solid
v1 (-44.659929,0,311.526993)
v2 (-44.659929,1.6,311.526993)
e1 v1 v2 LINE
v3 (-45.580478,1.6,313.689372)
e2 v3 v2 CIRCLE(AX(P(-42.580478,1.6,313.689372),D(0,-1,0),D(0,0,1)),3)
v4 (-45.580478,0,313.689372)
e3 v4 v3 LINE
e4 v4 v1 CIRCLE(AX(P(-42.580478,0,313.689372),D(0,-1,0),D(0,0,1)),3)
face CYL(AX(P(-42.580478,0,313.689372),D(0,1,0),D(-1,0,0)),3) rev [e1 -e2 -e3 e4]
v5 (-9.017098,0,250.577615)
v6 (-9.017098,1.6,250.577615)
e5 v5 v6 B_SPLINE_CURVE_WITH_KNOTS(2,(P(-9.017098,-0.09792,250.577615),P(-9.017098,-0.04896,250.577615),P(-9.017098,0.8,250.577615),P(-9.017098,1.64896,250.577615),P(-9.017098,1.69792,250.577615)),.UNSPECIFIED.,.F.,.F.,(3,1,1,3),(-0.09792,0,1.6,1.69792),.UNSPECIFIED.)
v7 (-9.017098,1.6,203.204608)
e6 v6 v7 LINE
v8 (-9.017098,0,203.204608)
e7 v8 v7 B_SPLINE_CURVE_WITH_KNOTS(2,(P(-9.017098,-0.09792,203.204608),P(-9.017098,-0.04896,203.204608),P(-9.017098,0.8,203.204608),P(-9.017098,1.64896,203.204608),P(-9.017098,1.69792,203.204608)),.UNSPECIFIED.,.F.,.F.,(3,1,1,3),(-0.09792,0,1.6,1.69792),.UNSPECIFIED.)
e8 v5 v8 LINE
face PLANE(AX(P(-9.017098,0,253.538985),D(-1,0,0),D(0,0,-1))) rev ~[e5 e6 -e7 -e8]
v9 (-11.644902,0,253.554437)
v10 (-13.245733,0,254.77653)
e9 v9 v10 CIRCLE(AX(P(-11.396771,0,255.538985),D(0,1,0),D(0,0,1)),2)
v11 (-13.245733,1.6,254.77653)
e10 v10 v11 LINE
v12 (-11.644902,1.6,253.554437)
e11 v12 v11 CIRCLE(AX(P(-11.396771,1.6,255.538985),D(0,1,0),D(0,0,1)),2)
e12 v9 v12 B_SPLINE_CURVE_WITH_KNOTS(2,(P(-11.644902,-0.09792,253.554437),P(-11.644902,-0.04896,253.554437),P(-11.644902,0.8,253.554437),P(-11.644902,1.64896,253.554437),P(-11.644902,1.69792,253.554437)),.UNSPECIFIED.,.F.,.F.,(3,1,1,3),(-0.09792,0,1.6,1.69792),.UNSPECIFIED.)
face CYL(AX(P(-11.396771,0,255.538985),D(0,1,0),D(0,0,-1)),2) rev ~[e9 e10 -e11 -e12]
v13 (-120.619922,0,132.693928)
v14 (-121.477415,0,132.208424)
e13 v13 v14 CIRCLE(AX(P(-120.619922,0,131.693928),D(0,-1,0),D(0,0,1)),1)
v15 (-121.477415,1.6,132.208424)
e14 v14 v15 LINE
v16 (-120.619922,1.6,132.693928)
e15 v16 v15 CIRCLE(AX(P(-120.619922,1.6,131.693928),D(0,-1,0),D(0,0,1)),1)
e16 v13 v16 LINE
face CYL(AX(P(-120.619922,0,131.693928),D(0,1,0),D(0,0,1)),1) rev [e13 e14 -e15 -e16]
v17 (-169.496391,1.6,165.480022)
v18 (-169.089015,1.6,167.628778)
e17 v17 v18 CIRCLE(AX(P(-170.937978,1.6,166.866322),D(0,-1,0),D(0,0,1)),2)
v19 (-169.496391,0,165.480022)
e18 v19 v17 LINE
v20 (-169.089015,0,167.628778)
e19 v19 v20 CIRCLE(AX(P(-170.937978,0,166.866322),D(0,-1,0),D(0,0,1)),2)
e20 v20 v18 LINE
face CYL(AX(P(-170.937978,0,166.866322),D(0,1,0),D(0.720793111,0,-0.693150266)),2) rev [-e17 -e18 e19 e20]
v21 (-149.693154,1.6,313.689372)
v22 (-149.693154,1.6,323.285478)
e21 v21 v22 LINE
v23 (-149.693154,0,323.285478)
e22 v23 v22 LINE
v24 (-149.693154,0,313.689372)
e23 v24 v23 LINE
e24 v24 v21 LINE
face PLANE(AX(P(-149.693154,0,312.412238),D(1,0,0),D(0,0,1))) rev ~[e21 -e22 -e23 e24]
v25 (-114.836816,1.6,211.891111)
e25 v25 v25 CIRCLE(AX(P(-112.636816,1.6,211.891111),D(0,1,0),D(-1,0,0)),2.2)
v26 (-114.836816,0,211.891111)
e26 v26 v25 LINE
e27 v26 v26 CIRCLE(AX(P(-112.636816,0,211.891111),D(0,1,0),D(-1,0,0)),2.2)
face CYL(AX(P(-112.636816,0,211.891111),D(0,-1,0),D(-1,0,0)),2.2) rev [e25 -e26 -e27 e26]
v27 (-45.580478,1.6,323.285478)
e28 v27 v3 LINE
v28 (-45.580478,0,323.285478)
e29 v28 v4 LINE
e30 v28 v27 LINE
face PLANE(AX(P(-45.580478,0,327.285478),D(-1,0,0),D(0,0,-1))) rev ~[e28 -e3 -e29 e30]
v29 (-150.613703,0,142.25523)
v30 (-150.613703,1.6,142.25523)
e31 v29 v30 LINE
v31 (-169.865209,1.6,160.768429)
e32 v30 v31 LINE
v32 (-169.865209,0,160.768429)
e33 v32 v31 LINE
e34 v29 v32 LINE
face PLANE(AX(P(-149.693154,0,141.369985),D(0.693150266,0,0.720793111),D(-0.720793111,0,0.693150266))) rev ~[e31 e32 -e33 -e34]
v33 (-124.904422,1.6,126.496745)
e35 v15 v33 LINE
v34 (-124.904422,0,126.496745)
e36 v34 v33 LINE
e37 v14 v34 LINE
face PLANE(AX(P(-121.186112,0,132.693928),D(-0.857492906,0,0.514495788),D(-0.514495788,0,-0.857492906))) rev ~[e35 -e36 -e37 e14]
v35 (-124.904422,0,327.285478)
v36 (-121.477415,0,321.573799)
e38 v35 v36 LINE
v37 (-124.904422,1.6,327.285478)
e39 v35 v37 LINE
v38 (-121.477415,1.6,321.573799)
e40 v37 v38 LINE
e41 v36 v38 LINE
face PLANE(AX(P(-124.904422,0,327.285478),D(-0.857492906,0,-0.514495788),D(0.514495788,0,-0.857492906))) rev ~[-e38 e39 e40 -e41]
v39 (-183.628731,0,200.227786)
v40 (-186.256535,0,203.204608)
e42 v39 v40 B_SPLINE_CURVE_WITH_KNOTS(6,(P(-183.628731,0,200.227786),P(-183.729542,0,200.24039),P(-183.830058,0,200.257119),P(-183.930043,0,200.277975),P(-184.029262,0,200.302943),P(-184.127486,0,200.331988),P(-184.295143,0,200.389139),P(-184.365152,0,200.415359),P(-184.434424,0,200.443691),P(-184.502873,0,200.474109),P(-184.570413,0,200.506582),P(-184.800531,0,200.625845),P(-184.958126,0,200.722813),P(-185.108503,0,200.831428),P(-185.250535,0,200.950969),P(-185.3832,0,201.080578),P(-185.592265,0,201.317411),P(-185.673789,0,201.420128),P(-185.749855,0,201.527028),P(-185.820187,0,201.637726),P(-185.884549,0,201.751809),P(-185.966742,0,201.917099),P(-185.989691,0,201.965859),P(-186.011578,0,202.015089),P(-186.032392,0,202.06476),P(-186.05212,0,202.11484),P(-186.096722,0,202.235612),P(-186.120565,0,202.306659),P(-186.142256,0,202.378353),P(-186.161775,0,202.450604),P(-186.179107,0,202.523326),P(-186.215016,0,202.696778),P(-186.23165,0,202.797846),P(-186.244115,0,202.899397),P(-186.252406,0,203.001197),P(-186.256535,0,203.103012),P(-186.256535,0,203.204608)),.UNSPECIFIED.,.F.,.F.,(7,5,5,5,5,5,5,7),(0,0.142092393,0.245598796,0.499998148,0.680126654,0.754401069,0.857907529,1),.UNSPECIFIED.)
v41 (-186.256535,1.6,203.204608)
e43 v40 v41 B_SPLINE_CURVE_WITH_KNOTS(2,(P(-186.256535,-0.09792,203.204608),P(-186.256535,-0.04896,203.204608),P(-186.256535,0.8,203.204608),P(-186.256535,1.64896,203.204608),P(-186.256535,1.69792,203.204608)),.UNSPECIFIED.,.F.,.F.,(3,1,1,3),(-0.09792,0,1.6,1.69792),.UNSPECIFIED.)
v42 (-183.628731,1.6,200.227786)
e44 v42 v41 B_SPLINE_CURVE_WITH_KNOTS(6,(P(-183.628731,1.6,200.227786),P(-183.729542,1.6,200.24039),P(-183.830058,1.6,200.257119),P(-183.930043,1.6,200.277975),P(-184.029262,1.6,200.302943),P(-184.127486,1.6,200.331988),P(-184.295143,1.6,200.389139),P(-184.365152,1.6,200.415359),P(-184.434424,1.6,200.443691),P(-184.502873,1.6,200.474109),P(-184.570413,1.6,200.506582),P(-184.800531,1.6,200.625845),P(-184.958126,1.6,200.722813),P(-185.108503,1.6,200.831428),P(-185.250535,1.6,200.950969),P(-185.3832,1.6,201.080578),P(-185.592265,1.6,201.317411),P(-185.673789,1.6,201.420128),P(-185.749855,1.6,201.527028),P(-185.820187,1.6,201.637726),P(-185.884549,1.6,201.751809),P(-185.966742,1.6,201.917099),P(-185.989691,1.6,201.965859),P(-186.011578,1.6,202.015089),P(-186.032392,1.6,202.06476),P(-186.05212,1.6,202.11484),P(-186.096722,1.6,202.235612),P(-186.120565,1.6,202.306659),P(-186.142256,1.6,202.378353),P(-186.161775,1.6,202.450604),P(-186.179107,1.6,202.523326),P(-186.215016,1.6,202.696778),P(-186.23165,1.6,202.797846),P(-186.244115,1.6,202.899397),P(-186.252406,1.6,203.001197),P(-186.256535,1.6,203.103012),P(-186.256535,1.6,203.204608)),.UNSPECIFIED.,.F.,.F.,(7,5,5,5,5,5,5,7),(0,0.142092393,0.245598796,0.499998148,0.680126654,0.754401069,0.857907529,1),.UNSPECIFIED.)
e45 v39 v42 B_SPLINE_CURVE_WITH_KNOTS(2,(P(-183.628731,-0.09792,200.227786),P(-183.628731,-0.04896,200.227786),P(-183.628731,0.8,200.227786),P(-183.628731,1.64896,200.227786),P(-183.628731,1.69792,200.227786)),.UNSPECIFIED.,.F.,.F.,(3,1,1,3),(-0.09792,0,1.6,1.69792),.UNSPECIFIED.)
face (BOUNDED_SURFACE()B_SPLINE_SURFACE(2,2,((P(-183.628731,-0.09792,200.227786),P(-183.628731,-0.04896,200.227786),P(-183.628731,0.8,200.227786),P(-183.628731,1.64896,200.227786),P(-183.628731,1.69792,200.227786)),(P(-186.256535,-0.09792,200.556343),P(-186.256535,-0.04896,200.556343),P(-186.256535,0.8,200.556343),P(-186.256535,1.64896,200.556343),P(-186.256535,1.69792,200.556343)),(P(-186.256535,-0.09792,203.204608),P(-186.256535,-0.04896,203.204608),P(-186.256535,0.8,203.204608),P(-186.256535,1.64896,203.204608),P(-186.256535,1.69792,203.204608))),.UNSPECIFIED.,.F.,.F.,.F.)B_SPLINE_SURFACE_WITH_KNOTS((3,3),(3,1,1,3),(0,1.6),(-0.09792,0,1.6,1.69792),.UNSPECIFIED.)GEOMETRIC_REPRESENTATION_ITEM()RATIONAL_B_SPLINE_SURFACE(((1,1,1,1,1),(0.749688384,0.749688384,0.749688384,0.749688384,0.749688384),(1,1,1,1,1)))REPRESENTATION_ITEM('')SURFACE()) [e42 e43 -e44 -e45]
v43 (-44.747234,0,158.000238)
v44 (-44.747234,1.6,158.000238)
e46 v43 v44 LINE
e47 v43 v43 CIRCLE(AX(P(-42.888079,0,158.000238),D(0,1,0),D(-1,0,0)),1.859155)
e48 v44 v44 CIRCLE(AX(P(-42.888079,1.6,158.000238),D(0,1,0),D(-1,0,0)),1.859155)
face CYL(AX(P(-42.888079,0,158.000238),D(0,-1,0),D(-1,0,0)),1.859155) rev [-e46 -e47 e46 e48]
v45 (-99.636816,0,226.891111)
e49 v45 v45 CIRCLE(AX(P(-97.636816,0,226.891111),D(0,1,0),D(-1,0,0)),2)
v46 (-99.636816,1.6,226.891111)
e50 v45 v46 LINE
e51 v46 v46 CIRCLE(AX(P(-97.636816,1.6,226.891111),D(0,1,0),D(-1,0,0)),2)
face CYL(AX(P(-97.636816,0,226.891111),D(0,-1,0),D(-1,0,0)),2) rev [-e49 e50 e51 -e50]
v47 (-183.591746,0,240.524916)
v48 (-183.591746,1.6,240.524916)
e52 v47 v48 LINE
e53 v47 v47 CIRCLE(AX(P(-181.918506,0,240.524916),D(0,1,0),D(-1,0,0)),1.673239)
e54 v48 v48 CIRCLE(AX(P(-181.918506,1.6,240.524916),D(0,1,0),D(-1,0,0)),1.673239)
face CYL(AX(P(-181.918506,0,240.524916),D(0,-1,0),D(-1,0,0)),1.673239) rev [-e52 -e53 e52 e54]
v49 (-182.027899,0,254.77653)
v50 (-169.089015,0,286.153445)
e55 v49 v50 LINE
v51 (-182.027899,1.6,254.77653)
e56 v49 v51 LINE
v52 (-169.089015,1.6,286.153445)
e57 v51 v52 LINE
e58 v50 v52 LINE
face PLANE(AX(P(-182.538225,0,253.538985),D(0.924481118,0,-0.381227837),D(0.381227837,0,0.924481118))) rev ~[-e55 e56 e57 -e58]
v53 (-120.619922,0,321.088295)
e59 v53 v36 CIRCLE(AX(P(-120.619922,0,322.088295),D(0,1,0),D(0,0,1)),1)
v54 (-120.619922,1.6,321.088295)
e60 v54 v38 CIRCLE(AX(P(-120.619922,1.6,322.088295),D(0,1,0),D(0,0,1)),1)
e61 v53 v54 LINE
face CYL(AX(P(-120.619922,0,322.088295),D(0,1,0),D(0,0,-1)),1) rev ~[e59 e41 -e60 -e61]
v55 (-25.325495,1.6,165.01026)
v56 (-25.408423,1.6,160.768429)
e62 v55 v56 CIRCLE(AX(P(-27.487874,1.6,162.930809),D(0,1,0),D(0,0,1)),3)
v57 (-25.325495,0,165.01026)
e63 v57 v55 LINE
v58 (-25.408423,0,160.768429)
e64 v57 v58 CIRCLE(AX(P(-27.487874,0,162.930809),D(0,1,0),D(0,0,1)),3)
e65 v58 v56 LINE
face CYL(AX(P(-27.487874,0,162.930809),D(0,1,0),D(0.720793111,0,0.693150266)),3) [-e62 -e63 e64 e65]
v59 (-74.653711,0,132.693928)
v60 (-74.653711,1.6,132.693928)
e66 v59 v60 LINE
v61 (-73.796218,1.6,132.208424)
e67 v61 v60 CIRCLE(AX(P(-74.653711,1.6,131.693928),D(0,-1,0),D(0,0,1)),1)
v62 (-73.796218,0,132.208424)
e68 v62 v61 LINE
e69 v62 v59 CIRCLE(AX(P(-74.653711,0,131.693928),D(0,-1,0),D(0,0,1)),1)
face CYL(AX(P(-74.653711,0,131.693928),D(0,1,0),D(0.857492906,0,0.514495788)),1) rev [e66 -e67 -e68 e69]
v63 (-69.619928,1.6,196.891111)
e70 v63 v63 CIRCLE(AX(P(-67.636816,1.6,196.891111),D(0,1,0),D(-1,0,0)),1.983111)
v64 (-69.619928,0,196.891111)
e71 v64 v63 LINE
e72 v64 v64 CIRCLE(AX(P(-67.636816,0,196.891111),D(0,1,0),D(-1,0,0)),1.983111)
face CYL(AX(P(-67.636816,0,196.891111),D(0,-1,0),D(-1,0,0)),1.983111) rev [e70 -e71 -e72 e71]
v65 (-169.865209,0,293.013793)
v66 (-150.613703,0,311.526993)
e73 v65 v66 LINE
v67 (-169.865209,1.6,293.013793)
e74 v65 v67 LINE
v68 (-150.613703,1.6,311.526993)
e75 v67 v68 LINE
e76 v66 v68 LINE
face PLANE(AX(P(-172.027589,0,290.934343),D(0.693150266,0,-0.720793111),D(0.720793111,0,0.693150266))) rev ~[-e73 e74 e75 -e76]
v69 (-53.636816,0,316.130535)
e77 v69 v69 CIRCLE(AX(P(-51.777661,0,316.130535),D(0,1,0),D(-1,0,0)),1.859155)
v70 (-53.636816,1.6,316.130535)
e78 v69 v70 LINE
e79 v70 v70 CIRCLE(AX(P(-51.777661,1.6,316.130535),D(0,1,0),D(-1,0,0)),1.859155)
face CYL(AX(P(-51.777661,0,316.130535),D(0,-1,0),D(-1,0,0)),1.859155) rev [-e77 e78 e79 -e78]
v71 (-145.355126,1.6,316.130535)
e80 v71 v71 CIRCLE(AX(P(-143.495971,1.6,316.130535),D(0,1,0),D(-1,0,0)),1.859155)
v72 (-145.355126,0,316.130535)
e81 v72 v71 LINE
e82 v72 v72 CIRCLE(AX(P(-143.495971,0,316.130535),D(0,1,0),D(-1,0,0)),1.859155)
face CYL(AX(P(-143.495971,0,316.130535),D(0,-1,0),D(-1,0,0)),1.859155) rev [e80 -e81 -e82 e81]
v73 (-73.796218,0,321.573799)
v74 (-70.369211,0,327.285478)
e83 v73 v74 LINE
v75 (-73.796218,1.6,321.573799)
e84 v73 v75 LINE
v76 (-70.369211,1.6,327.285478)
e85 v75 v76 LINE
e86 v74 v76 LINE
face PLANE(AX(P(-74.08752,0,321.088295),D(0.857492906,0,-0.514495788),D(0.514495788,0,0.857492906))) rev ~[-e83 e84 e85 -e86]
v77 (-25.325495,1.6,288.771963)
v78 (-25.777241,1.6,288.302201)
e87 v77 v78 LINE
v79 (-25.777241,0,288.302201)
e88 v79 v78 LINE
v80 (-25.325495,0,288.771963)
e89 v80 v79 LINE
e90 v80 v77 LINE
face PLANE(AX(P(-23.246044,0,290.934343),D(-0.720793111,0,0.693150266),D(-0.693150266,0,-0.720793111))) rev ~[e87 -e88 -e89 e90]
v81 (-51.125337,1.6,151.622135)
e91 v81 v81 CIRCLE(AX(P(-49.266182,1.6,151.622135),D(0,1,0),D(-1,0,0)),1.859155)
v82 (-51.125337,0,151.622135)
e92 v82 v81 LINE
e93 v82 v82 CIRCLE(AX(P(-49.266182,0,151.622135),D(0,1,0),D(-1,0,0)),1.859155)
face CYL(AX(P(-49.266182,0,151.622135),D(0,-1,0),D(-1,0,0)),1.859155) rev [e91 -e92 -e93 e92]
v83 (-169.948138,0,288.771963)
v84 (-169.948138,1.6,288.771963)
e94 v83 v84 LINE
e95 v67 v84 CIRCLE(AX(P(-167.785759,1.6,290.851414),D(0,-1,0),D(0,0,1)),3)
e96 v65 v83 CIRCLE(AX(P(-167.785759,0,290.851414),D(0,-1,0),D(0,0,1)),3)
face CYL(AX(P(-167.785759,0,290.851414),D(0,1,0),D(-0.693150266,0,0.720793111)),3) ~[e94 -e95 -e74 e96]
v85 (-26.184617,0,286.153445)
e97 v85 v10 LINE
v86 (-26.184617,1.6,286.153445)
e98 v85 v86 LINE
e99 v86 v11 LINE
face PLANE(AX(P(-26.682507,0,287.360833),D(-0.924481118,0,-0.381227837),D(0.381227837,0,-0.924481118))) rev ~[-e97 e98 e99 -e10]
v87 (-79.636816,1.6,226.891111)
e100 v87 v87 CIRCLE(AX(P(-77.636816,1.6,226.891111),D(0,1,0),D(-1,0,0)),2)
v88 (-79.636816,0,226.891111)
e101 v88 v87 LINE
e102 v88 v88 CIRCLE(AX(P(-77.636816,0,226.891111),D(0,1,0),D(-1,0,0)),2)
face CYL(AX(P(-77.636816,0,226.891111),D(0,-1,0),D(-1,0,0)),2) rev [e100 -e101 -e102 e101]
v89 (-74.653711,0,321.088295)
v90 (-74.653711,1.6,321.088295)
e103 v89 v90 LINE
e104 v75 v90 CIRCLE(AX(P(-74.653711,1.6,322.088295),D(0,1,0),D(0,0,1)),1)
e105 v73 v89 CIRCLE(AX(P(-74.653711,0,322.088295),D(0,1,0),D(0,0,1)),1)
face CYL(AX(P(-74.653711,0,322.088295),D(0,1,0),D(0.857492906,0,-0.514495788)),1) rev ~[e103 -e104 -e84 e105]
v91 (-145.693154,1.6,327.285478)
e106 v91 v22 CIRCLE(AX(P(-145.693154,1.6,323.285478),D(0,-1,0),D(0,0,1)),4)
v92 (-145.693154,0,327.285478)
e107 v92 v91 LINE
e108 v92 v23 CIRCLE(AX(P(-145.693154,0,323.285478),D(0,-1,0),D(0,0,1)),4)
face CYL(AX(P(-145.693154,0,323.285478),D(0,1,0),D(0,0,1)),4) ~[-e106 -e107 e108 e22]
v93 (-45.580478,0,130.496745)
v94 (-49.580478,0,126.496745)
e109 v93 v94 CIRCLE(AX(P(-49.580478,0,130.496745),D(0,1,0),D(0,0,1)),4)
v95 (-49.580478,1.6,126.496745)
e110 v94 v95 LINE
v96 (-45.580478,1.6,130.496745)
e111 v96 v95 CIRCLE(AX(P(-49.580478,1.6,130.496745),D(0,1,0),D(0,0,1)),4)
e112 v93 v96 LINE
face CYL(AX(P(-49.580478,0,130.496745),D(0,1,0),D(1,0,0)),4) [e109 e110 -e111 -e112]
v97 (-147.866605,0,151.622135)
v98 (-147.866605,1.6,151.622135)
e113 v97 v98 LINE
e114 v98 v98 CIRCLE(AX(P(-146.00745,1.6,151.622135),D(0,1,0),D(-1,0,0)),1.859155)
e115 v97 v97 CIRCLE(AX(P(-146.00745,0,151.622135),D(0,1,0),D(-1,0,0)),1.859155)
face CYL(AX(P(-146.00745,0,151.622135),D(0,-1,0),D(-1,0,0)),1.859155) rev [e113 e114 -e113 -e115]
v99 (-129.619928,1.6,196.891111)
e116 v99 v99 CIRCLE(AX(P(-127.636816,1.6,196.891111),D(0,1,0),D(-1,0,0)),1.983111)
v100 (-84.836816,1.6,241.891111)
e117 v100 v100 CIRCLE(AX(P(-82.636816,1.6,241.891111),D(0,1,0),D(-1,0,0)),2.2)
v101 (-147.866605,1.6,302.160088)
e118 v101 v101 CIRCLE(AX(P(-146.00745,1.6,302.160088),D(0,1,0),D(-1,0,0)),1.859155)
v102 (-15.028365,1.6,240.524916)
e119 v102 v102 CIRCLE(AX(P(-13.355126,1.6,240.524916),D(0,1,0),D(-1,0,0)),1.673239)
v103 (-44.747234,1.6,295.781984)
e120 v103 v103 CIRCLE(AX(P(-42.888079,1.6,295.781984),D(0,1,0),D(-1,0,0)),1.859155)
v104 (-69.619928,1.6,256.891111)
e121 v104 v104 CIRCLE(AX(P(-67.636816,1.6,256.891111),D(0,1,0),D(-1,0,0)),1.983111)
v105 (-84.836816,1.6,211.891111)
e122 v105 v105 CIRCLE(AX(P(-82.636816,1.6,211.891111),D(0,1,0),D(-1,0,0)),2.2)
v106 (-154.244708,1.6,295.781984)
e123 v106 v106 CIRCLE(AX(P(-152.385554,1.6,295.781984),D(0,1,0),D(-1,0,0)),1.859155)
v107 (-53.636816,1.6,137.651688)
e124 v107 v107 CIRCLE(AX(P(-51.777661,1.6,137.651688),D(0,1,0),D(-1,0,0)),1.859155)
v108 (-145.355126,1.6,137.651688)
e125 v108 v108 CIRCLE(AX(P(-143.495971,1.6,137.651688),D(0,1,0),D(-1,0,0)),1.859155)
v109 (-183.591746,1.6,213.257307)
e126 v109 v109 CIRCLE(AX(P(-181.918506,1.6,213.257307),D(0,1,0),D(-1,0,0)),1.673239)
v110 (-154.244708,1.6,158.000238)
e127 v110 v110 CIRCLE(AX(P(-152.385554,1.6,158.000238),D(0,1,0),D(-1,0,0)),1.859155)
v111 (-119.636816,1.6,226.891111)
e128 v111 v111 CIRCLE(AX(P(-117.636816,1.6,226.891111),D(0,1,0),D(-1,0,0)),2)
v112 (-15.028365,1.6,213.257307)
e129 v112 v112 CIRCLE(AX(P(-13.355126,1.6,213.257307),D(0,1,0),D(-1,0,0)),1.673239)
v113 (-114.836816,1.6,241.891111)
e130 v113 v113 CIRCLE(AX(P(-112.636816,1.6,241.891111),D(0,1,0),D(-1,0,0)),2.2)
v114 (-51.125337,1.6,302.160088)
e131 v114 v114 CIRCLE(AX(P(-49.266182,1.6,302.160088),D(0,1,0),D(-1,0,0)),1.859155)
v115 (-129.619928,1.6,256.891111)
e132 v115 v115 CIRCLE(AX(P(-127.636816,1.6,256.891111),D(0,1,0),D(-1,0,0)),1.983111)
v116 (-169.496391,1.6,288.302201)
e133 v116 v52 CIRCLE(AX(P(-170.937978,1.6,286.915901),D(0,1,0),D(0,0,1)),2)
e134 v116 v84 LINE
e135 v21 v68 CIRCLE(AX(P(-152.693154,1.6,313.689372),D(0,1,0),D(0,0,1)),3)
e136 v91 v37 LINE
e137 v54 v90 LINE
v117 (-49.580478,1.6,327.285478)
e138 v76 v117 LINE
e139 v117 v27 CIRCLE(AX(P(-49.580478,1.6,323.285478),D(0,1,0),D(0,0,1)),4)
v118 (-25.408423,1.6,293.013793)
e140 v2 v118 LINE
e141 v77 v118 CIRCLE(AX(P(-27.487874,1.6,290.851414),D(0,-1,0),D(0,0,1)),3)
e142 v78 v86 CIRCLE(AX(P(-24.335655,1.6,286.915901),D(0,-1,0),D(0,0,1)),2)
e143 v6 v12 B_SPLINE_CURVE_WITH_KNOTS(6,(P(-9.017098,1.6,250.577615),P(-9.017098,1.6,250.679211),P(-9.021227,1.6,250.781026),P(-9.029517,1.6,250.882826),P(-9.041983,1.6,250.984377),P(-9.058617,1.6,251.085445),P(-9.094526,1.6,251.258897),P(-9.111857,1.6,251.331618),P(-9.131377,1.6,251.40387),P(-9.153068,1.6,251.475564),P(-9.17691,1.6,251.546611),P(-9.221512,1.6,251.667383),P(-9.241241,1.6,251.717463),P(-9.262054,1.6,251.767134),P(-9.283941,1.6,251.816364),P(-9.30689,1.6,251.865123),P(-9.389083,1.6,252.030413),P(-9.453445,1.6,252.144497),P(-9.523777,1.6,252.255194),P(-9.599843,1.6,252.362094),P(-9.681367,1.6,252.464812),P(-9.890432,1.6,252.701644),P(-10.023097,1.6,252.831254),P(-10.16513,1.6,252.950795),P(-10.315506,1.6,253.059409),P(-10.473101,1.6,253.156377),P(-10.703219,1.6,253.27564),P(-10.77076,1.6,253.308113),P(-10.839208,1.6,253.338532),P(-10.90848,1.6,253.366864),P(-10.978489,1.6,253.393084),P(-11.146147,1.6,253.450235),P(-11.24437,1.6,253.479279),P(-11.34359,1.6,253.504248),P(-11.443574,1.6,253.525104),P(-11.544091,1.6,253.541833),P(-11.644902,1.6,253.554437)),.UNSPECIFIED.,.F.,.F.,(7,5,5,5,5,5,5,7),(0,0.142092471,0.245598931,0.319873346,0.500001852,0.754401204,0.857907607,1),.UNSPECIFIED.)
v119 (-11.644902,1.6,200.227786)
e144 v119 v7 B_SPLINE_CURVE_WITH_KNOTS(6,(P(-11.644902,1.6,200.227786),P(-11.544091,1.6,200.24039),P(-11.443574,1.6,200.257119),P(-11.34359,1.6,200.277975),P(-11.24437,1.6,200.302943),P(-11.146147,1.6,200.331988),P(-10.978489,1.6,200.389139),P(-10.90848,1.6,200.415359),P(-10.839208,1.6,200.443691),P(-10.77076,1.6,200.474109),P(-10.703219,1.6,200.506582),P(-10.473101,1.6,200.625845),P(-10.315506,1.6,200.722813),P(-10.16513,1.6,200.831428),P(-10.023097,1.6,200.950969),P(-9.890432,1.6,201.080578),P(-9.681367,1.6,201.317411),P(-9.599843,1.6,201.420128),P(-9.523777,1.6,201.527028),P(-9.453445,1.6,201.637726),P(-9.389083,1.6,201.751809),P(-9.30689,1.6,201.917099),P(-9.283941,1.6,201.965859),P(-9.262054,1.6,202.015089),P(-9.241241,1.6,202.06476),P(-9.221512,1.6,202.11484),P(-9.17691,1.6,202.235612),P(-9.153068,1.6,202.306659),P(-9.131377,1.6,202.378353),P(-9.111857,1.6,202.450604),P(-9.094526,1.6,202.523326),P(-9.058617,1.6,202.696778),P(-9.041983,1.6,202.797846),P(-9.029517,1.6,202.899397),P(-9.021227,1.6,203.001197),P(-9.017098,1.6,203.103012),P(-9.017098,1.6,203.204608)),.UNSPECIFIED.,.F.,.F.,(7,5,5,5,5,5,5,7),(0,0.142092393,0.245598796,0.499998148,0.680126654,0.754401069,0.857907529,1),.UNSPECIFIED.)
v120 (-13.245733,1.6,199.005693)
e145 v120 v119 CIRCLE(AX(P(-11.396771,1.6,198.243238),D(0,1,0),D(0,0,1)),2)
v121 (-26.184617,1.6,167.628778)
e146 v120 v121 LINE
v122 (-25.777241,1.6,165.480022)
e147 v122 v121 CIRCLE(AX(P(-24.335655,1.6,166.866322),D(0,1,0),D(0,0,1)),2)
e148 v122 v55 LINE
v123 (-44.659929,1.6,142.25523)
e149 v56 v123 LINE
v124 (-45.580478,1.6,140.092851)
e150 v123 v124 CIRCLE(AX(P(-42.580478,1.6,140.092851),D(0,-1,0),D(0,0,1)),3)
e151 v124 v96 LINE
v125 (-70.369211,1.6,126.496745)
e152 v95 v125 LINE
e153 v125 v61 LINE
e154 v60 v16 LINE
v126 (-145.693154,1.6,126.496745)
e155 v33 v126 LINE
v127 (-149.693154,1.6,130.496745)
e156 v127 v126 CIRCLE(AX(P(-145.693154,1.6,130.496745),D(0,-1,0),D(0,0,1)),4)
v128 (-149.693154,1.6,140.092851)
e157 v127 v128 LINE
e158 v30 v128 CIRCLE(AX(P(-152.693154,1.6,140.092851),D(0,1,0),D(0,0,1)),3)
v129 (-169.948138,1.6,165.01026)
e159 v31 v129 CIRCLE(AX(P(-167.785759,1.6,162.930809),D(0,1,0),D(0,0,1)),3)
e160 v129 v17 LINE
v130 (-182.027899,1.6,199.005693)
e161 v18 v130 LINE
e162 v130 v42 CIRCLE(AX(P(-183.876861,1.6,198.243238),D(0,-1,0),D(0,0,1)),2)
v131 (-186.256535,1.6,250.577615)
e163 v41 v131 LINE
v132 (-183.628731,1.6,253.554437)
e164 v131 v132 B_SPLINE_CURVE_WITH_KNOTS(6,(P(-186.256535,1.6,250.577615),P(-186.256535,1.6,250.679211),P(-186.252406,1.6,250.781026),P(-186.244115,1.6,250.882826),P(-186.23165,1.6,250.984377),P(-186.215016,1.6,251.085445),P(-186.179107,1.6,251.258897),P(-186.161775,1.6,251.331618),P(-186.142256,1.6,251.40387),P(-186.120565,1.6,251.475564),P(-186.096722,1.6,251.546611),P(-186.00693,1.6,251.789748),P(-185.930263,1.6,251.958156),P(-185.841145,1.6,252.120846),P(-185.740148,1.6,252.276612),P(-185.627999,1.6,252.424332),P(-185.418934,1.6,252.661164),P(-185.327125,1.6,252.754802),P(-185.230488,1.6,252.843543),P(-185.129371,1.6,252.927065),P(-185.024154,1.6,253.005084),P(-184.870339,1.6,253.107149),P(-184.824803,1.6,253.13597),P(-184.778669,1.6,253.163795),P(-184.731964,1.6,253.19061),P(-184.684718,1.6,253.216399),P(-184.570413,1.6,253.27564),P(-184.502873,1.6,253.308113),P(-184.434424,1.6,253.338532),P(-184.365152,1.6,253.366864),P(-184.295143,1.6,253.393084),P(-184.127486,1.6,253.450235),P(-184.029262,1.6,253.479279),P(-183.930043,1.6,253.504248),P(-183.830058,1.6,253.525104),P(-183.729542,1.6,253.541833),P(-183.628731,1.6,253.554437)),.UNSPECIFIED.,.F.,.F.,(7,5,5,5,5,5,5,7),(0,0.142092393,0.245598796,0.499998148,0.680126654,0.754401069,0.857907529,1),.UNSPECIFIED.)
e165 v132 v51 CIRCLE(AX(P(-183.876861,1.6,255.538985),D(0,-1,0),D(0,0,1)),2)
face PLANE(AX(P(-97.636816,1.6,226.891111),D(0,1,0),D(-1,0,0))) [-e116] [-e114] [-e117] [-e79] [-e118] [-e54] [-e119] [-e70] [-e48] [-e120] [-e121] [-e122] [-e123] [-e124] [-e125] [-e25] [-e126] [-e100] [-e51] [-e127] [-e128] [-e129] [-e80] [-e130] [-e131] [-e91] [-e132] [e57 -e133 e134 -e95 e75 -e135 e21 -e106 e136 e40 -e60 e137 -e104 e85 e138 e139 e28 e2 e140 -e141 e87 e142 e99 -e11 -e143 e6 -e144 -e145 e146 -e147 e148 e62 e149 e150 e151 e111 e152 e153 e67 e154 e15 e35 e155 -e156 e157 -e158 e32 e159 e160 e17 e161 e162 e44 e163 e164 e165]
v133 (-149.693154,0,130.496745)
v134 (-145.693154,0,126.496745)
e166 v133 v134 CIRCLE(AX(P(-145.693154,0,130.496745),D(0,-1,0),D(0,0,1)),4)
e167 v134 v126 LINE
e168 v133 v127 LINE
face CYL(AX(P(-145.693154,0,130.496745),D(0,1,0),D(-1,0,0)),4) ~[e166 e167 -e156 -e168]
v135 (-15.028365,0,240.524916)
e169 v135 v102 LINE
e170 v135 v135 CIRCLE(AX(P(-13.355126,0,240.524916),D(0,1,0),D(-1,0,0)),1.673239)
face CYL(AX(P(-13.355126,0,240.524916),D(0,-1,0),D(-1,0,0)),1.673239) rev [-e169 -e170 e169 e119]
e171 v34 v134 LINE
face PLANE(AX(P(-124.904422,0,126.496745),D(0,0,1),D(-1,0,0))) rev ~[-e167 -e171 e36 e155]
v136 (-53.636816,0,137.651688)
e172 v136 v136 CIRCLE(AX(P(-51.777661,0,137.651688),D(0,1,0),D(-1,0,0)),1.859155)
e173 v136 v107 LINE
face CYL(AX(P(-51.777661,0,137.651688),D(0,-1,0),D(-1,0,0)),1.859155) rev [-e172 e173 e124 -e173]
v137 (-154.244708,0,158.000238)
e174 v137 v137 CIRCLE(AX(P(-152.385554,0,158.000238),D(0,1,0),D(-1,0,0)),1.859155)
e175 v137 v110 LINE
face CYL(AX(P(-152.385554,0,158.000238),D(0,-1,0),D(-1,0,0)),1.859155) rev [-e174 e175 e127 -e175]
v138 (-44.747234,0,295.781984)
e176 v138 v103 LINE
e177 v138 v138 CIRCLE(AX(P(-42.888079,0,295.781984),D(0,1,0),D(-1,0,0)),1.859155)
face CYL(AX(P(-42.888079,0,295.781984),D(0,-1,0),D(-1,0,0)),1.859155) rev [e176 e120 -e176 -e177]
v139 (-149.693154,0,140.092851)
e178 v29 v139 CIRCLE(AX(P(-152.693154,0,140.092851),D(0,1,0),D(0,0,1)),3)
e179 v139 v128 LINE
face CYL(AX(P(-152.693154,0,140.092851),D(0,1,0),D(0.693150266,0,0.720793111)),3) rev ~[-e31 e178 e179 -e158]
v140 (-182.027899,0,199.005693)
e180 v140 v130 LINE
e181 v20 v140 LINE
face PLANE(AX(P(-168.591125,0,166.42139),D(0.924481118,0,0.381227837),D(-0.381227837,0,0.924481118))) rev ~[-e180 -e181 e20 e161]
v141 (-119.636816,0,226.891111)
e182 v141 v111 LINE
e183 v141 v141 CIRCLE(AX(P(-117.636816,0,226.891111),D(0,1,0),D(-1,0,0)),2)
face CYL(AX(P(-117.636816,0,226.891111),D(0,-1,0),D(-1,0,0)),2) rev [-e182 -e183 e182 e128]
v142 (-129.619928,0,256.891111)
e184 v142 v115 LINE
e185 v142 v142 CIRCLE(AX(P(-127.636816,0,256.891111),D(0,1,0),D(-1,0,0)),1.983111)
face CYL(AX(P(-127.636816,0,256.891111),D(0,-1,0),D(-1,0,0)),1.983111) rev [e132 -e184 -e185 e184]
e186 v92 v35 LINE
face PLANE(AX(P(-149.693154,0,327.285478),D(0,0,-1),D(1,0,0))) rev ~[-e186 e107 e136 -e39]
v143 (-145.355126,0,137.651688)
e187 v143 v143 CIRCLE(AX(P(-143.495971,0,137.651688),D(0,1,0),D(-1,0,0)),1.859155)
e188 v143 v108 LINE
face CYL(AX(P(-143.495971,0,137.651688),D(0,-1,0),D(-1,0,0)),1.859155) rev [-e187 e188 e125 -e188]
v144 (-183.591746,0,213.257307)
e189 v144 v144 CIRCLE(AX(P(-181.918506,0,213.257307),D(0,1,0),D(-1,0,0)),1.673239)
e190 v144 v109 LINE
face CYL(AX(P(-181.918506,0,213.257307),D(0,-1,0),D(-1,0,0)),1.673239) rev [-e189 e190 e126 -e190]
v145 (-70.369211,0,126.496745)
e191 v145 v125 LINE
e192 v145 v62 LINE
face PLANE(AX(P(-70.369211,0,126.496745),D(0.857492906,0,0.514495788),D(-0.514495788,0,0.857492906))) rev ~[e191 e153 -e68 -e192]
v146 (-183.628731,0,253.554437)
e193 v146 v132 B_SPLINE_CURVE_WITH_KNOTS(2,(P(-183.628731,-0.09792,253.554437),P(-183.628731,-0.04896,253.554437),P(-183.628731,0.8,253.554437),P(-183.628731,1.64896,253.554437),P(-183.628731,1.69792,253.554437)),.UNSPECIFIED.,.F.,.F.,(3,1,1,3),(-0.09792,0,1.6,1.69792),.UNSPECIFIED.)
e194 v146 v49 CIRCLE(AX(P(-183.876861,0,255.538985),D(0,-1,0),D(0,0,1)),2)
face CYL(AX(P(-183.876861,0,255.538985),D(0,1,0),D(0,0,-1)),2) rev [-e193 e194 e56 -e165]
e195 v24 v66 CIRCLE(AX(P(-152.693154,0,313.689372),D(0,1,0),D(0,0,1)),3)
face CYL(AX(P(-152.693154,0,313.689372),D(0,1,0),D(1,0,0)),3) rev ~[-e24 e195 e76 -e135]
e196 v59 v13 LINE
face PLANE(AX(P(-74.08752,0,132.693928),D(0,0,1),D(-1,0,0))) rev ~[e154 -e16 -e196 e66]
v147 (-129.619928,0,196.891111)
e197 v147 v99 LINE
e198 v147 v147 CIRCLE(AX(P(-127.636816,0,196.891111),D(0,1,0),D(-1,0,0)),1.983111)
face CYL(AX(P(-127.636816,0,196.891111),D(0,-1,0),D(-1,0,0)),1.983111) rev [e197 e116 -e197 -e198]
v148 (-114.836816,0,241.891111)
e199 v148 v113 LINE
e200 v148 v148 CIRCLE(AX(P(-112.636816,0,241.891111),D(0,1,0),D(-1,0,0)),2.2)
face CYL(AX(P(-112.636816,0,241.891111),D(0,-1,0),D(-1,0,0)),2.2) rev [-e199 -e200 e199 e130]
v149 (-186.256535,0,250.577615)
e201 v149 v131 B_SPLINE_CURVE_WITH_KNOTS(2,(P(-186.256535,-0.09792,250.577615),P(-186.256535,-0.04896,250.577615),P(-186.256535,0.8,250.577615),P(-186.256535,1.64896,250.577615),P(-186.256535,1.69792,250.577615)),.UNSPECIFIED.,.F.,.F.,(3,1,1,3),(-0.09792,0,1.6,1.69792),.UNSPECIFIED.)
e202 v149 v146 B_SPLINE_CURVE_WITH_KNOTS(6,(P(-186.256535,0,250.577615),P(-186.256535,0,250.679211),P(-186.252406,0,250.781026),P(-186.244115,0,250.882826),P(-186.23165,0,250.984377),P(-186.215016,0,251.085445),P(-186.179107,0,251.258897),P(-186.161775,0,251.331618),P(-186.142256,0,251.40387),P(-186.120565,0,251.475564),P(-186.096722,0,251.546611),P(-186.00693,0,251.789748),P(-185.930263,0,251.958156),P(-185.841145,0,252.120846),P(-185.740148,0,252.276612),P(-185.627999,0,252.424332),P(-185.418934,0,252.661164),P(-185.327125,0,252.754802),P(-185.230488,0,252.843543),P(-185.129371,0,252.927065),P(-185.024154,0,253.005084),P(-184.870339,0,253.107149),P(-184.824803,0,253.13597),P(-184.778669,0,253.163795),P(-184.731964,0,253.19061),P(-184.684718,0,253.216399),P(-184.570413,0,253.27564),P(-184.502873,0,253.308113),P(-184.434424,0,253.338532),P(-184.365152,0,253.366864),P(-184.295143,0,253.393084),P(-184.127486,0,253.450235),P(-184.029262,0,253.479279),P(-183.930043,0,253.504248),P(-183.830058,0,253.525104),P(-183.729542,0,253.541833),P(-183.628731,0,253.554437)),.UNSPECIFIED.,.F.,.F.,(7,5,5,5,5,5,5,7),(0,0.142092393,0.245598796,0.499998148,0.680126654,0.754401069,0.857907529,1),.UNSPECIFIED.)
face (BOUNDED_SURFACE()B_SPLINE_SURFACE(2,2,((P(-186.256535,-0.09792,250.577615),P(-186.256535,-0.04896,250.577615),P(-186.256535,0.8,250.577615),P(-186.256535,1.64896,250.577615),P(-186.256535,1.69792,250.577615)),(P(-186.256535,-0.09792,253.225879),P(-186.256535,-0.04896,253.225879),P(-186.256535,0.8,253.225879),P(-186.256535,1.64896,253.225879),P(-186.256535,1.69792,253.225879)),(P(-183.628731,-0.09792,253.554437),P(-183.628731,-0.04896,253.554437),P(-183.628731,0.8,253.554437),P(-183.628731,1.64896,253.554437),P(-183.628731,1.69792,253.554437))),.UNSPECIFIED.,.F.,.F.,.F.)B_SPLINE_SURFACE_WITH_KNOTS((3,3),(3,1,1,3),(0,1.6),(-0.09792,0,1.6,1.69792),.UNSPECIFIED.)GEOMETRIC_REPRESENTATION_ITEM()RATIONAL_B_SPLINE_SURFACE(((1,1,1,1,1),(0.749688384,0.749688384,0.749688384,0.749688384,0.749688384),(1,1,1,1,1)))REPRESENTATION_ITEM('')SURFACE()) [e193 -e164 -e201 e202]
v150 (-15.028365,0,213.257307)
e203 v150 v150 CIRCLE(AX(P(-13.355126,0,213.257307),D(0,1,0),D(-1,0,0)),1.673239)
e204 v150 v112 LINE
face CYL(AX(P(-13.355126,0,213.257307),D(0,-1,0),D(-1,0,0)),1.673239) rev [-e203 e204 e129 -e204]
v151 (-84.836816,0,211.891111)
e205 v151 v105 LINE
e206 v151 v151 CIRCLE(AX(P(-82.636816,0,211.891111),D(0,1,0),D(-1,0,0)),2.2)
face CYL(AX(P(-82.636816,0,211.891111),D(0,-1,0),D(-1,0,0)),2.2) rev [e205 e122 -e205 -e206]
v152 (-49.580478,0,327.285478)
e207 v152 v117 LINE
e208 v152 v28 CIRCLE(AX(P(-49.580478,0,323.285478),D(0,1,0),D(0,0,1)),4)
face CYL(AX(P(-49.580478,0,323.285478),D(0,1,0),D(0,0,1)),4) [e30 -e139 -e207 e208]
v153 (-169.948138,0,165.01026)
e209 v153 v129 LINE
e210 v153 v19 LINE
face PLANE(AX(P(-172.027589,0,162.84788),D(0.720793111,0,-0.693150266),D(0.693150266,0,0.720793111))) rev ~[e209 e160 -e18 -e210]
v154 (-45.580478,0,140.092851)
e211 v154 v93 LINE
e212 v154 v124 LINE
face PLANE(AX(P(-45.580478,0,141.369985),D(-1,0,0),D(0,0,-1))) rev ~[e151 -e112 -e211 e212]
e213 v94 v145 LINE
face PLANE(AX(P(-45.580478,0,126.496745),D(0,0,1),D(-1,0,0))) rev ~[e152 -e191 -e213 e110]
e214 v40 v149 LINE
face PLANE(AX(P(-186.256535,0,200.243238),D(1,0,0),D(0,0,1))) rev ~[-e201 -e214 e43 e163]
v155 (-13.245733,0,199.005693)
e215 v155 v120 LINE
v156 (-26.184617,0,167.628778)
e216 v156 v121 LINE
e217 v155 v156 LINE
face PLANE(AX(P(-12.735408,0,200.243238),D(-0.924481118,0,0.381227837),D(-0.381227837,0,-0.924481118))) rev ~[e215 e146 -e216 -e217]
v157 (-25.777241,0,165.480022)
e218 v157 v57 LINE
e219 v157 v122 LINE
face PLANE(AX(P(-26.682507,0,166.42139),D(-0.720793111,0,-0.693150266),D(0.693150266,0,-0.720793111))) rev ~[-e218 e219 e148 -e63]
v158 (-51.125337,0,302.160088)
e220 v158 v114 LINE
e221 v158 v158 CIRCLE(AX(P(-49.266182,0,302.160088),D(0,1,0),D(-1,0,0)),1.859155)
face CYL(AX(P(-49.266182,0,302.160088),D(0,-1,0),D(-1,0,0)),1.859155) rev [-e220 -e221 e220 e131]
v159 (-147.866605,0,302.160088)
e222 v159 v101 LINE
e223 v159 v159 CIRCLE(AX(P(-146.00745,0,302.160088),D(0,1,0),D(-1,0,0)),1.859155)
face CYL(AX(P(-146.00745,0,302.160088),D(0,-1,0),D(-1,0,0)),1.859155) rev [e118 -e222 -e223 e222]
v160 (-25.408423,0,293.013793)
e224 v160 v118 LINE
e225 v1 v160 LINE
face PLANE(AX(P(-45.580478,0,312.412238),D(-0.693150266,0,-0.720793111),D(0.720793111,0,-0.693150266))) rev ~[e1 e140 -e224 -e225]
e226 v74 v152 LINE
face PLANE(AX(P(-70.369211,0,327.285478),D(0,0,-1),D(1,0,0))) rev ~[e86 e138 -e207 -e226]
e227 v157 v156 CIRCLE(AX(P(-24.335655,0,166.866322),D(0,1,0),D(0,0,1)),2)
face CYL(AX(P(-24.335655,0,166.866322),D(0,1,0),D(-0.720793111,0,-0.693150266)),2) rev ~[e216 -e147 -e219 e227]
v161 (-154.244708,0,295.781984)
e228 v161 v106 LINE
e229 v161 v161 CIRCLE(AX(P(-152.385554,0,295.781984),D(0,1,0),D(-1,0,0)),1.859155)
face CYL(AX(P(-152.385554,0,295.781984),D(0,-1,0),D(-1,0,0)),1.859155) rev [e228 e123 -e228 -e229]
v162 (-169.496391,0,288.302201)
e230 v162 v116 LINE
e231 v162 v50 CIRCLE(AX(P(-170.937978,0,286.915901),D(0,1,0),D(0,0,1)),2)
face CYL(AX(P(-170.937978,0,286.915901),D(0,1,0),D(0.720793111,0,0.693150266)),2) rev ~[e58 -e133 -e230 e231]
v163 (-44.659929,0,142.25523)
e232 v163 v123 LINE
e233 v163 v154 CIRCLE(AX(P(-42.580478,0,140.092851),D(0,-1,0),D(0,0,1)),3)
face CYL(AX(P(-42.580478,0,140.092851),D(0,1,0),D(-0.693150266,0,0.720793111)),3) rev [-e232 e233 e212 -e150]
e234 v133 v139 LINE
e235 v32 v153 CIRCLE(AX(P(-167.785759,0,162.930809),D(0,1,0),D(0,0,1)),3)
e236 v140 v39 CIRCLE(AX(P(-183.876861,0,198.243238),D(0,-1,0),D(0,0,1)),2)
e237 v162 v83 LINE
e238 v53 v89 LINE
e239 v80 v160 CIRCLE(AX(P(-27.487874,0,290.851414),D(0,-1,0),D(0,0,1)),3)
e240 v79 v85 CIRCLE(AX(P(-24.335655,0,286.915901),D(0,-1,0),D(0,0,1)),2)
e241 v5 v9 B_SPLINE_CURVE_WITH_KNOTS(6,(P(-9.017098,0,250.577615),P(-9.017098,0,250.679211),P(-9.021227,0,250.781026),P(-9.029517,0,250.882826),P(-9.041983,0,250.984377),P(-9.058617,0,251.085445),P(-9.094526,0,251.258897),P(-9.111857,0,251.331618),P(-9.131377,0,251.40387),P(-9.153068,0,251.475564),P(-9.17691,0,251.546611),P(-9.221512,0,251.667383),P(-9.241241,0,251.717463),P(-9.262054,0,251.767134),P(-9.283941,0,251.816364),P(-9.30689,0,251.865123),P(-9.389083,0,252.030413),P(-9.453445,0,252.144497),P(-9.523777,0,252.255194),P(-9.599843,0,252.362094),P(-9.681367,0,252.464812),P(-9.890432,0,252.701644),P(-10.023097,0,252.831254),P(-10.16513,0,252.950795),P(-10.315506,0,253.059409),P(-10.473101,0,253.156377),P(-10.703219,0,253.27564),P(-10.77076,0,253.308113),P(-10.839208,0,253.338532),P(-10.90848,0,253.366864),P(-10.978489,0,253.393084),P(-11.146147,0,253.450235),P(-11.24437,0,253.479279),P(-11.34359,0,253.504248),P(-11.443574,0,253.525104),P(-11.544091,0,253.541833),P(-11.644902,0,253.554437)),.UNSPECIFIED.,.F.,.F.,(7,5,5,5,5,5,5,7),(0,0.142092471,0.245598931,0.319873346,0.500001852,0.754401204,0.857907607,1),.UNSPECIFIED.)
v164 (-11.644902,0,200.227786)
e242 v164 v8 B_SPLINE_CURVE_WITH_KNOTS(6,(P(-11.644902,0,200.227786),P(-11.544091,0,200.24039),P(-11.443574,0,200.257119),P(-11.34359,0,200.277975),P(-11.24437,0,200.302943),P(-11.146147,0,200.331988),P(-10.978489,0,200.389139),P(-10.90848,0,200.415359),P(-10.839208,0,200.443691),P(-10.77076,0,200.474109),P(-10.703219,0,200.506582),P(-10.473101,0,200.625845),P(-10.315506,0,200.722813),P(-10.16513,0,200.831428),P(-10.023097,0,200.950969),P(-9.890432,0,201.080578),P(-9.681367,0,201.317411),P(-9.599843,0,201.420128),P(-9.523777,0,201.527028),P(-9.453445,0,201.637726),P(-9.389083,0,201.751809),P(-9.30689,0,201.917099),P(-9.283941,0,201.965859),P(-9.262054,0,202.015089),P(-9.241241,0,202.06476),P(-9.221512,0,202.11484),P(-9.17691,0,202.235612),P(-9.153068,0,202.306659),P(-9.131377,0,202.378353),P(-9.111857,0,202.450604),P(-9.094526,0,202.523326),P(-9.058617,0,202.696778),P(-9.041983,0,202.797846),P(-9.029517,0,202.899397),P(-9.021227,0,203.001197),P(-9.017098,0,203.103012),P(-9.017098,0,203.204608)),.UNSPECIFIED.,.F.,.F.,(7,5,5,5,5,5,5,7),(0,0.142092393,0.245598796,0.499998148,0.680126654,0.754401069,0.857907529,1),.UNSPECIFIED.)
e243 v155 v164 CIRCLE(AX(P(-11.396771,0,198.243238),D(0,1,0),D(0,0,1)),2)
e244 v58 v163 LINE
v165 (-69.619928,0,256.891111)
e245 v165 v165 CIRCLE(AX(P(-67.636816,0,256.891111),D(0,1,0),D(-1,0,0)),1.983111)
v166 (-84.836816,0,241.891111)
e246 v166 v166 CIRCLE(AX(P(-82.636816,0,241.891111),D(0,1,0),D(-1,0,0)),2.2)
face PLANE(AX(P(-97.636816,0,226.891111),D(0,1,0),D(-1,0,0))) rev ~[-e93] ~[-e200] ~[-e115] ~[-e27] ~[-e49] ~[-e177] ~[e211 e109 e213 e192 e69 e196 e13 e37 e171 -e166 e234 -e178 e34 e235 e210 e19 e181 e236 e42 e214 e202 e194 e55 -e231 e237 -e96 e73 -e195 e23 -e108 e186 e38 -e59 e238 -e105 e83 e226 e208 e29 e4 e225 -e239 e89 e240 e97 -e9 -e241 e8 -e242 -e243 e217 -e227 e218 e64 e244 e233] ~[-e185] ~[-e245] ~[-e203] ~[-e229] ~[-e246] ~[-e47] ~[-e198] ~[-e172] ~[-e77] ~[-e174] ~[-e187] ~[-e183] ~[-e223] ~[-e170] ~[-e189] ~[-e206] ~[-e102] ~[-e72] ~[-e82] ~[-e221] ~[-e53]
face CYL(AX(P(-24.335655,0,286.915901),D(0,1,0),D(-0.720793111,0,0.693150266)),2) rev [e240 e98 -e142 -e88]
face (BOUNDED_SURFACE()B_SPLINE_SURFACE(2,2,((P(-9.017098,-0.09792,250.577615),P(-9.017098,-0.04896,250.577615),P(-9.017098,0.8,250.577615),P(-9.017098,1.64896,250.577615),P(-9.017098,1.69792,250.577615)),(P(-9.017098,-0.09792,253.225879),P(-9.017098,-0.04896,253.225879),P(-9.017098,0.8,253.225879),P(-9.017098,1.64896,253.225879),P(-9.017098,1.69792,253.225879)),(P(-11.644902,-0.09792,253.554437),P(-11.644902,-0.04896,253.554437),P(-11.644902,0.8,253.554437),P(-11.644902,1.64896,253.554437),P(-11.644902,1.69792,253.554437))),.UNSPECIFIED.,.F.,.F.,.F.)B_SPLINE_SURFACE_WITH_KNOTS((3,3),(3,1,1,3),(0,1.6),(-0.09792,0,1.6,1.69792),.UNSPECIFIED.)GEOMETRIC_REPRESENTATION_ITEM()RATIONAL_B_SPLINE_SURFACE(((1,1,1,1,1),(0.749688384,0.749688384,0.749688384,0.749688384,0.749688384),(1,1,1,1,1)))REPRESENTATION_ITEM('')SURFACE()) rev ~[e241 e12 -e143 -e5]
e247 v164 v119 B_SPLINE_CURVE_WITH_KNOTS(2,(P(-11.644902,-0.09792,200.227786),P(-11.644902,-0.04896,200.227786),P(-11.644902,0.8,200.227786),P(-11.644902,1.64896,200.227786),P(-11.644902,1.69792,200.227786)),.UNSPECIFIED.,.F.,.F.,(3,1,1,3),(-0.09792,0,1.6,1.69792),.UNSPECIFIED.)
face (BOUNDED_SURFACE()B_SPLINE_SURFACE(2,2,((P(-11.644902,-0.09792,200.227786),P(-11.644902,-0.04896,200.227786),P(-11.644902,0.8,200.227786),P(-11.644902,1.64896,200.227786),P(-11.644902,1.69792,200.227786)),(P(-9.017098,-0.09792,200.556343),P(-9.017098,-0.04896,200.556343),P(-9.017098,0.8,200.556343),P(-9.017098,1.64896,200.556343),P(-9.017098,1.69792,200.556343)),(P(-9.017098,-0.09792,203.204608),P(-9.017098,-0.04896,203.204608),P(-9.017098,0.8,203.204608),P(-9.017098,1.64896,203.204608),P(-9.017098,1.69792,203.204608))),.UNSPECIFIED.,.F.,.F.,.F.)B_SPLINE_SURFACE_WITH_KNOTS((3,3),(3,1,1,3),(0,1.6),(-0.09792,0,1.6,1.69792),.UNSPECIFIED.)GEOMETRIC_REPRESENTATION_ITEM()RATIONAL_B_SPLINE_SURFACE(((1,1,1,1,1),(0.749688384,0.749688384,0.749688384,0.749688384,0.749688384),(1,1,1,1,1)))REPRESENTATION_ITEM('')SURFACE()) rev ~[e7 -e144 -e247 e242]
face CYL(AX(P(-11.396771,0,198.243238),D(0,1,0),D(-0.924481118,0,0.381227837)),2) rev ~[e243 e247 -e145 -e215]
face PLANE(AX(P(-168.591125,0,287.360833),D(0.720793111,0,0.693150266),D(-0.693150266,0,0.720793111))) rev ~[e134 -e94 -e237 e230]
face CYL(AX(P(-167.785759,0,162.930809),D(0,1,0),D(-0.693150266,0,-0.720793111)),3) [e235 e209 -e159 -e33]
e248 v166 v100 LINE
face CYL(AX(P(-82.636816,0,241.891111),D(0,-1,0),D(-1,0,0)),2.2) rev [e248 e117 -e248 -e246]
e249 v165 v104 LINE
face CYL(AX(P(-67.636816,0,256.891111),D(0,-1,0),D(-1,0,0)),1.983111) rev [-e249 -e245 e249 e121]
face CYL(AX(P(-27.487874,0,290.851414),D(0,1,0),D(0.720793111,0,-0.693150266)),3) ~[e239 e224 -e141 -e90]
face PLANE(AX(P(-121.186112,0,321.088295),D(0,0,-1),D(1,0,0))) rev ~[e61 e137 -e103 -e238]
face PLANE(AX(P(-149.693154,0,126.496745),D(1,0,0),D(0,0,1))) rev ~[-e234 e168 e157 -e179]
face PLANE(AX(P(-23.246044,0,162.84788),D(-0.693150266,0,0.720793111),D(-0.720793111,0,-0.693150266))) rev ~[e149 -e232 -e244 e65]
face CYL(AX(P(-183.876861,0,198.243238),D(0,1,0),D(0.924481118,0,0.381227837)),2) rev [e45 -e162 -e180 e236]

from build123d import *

# Parameters (mm, degrees)
SKETCH1_R        = 2.2
SKETCH1_R_2      = 1.85915493
SKETCH1_R_3      = 2
SKETCH1_R_4      = 1.673239437
SKETCH1_R_5      = 1.983111479
EXTRUSION1_DEPTH = 1.6
FILLET1_R        = 1
FILLET2_R        = 4
FILLET3_R        = 3
FILLET4_R        = 3
FILLET5_R        = 2
FILLET6_R        = 2
FILLET7_R        = 3
FILLET8_R        = 3
FILLET9_R        = 2
FILLET10_R       = 2
FILLET11_R       = 3


with BuildPart() as part:
    # Sketch1 → Extrusion1 (new body)
    with BuildSketch(Plane(origin=(0, 0, 0), x_dir=(-1, 0, 0), z_dir=(0, 1, 0))):
        Polygon((74.087520418, 321.088295015), (70.369210559, 327.285477572), (45.580478165, 327.285477572), (45.580478165, 312.412238135), (23.246043749, 290.934342561), (26.682507041, 287.360833055), (12.735407819, 253.538985229), (9.017097883, 253.538985229), (9.017097883, 226.891111382), (9.017097883, 200.243237534), (12.735407819, 200.243237534), (26.682507041, 166.421389708), (23.246043749, 162.847880202), (45.580478165, 141.369984628), (45.580478165, 126.496745191), (70.369210559, 126.496745191), (74.087520418, 132.693927748), (97.636816193, 132.693927748), (121.186111968, 132.693927748), (124.904421827, 126.496745191), (149.693154221, 126.496745191), (149.693154221, 141.369984628), (172.027588636, 162.847880202), (168.591125345, 166.421389708), (182.538224567, 200.243237534), (186.256534503, 200.243237534), (186.256534503, 226.891111382), (186.256534503, 253.538985229), (182.538224567, 253.538985229), (168.591125345, 287.360833055), (172.027588636, 290.934342561), (149.693154221, 312.412238135), (149.693154221, 327.285477572), (124.904421827, 327.285477572), (121.186111968, 321.088295015), (97.636816193, 321.088295015), align=None)
        with Locations((112.636816193, 211.891111382)):
            Circle(SKETCH1_R, mode=Mode.SUBTRACT)
        with Locations((49.266182018, 151.62213525)):
            Circle(SKETCH1_R_2, mode=Mode.SUBTRACT)
        with Locations((112.636816193, 241.891111382)):
            Circle(SKETCH1_R, mode=Mode.SUBTRACT)
        with Locations((82.636816193, 241.891111382)):
            Circle(SKETCH1_R, mode=Mode.SUBTRACT)
        with Locations((82.636816193, 211.891111382)):
            Circle(SKETCH1_R, mode=Mode.SUBTRACT)
        with Locations((117.636816193, 226.891111382)):
            Circle(SKETCH1_R_3, mode=Mode.SUBTRACT)
        with Locations((77.636816193, 226.891111382)):
            Circle(SKETCH1_R_3, mode=Mode.SUBTRACT)
        with Locations((97.636816193, 226.891111382)):
            Circle(SKETCH1_R_3, mode=Mode.SUBTRACT)
        with Locations((51.777661187, 316.130534525)):
            Circle(SKETCH1_R_2, mode=Mode.SUBTRACT)
        with Locations((49.266182018, 302.160087513)):
            Circle(SKETCH1_R_2, mode=Mode.SUBTRACT)
        with Locations((13.355125975, 240.524915841)):
            Circle(SKETCH1_R_4, mode=Mode.SUBTRACT)
        with Locations((143.495971199, 137.651688238)):
            Circle(SKETCH1_R_2, mode=Mode.SUBTRACT)
        with Locations((146.007450368, 151.62213525)):
            Circle(SKETCH1_R_2, mode=Mode.SUBTRACT)
        with Locations((143.495971199, 316.130534525)):
            Circle(SKETCH1_R_2, mode=Mode.SUBTRACT)
        with Locations((181.918506411, 240.524915841)):
            Circle(SKETCH1_R_4, mode=Mode.SUBTRACT)
        with Locations((146.007450368, 302.160087513)):
            Circle(SKETCH1_R_2, mode=Mode.SUBTRACT)
        with Locations((181.918506411, 213.257306923)):
            Circle(SKETCH1_R_4, mode=Mode.SUBTRACT)
        with Locations((13.355125975, 213.257306923)):
            Circle(SKETCH1_R_4, mode=Mode.SUBTRACT)
        with Locations((51.777661187, 137.651688238)):
            Circle(SKETCH1_R_2, mode=Mode.SUBTRACT)
        with Locations((67.636816193, 196.891111382)):
            Circle(SKETCH1_R_5, mode=Mode.SUBTRACT)
        with Locations((67.636816193, 256.891111382)):
            Circle(SKETCH1_R_5, mode=Mode.SUBTRACT)
        with Locations((42.888078851, 158.000238416)):
            Circle(SKETCH1_R_2, mode=Mode.SUBTRACT)
        with Locations((152.385553534, 295.781984347)):
            Circle(SKETCH1_R_2, mode=Mode.SUBTRACT)
        with Locations((42.888078851, 295.781984347)):
            Circle(SKETCH1_R_2, mode=Mode.SUBTRACT)
        with Locations((127.636816193, 256.891111382)):
            Circle(SKETCH1_R_5, mode=Mode.SUBTRACT)
        with Locations((152.385553534, 158.000238416)):
            Circle(SKETCH1_R_2, mode=Mode.SUBTRACT)
        with Locations((127.636816193, 196.891111382)):
            Circle(SKETCH1_R_5, mode=Mode.SUBTRACT)
    extrude(amount=EXTRUSION1_DEPTH)

    # Fillet1
    fillet1_edges = [part.edges().sort_by_distance(p)[0] for p in [
        (-121.186111968, 0.8, 321.088295015),
        (-121.186111968, 0.8, 132.693927748),
        (-74.087520418, 0.8, 132.693927748),
        (-74.087520418, 0.8, 321.088295015),
    ]]
    fillet(fillet1_edges, radius=FILLET1_R)

    # Fillet2
    fillet2_edges = [part.edges().sort_by_distance(p)[0] for p in [
        (-149.693154221, 0.8, 327.285477572),
        (-149.693154221, 0.8, 126.496745191),
        (-45.580478165, 0.8, 126.496745191),
        (-45.580478165, 0.8, 327.285477572),
    ]]
    fillet(fillet2_edges, radius=FILLET2_R)

    # Fillet3
    fillet3_edges = [part.edges().sort_by_distance(p)[0] for p in [
        (-149.693154221, 0.8, 312.412238135),
        (-149.693154221, 0.8, 141.369984628),
        (-45.580478165, 0.8, 141.369984628),
        (-45.580478165, 0.8, 312.412238135),
    ]]
    fillet(fillet3_edges, radius=FILLET3_R)

    # Fillet4
    fillet4_edges = [part.edges().sort_by_distance(p)[0] for p in [
        (-172.027588636, 0.8, 290.934342561),
    ]]
    fillet(fillet4_edges, radius=FILLET4_R)

    # Fillet5
    fillet5_edges = [part.edges().sort_by_distance(p)[0] for p in [
        (-168.591125345, 0.8, 287.360833055),
    ]]
    fillet(fillet5_edges, radius=FILLET5_R)

    # Fillet6
    fillet6_edges = [part.edges().sort_by_distance(p)[0] for p in [
        (-26.682507041, 0.8, 287.360833055),
    ]]
    fillet(fillet6_edges, radius=FILLET6_R)

    # Fillet7
    fillet7_edges = [part.edges().sort_by_distance(p)[0] for p in [
        (-23.246043749, 0.8, 290.934342561),
    ]]
    fillet(fillet7_edges, radius=FILLET7_R)

    # Fillet8
    fillet8_edges = [part.edges().sort_by_distance(p)[0] for p in [
        (-172.027588636, 0.8, 162.847880202),
        (-23.246043749, 0.8, 162.847880202),
    ]]
    fillet(fillet8_edges, radius=FILLET8_R)

    # Fillet9
    fillet9_edges = [part.edges().sort_by_distance(p)[0] for p in [
        (-168.591125345, 0.8, 166.421389708),
        (-26.682507041, 0.8, 166.421389708),
    ]]
    fillet(fillet9_edges, radius=FILLET9_R)

    # Fillet10
    fillet10_edges = [part.edges().sort_by_distance(p)[0] for p in [
        (-182.538224567, 0.8, 253.538985229),
        (-182.538224567, 0.8, 200.243237534),
        (-12.735407819, 0.8, 200.243237534),
        (-12.735407819, 0.8, 253.538985229),
    ]]
    fillet(fillet10_edges, radius=FILLET10_R)

    # Fillet11
    fillet11_edges = [part.edges().sort_by_distance(p)[0] for p in [
        (-186.256534503, 0.8, 200.243237534),
        (-186.256534503, 0.8, 253.538985229),
        (-9.017097883, 0.8, 253.538985229),
        (-9.017097883, 0.8, 200.243237534),
    ]]
    fillet(fillet11_edges, radius=FILLET11_R)


solid = part.part
